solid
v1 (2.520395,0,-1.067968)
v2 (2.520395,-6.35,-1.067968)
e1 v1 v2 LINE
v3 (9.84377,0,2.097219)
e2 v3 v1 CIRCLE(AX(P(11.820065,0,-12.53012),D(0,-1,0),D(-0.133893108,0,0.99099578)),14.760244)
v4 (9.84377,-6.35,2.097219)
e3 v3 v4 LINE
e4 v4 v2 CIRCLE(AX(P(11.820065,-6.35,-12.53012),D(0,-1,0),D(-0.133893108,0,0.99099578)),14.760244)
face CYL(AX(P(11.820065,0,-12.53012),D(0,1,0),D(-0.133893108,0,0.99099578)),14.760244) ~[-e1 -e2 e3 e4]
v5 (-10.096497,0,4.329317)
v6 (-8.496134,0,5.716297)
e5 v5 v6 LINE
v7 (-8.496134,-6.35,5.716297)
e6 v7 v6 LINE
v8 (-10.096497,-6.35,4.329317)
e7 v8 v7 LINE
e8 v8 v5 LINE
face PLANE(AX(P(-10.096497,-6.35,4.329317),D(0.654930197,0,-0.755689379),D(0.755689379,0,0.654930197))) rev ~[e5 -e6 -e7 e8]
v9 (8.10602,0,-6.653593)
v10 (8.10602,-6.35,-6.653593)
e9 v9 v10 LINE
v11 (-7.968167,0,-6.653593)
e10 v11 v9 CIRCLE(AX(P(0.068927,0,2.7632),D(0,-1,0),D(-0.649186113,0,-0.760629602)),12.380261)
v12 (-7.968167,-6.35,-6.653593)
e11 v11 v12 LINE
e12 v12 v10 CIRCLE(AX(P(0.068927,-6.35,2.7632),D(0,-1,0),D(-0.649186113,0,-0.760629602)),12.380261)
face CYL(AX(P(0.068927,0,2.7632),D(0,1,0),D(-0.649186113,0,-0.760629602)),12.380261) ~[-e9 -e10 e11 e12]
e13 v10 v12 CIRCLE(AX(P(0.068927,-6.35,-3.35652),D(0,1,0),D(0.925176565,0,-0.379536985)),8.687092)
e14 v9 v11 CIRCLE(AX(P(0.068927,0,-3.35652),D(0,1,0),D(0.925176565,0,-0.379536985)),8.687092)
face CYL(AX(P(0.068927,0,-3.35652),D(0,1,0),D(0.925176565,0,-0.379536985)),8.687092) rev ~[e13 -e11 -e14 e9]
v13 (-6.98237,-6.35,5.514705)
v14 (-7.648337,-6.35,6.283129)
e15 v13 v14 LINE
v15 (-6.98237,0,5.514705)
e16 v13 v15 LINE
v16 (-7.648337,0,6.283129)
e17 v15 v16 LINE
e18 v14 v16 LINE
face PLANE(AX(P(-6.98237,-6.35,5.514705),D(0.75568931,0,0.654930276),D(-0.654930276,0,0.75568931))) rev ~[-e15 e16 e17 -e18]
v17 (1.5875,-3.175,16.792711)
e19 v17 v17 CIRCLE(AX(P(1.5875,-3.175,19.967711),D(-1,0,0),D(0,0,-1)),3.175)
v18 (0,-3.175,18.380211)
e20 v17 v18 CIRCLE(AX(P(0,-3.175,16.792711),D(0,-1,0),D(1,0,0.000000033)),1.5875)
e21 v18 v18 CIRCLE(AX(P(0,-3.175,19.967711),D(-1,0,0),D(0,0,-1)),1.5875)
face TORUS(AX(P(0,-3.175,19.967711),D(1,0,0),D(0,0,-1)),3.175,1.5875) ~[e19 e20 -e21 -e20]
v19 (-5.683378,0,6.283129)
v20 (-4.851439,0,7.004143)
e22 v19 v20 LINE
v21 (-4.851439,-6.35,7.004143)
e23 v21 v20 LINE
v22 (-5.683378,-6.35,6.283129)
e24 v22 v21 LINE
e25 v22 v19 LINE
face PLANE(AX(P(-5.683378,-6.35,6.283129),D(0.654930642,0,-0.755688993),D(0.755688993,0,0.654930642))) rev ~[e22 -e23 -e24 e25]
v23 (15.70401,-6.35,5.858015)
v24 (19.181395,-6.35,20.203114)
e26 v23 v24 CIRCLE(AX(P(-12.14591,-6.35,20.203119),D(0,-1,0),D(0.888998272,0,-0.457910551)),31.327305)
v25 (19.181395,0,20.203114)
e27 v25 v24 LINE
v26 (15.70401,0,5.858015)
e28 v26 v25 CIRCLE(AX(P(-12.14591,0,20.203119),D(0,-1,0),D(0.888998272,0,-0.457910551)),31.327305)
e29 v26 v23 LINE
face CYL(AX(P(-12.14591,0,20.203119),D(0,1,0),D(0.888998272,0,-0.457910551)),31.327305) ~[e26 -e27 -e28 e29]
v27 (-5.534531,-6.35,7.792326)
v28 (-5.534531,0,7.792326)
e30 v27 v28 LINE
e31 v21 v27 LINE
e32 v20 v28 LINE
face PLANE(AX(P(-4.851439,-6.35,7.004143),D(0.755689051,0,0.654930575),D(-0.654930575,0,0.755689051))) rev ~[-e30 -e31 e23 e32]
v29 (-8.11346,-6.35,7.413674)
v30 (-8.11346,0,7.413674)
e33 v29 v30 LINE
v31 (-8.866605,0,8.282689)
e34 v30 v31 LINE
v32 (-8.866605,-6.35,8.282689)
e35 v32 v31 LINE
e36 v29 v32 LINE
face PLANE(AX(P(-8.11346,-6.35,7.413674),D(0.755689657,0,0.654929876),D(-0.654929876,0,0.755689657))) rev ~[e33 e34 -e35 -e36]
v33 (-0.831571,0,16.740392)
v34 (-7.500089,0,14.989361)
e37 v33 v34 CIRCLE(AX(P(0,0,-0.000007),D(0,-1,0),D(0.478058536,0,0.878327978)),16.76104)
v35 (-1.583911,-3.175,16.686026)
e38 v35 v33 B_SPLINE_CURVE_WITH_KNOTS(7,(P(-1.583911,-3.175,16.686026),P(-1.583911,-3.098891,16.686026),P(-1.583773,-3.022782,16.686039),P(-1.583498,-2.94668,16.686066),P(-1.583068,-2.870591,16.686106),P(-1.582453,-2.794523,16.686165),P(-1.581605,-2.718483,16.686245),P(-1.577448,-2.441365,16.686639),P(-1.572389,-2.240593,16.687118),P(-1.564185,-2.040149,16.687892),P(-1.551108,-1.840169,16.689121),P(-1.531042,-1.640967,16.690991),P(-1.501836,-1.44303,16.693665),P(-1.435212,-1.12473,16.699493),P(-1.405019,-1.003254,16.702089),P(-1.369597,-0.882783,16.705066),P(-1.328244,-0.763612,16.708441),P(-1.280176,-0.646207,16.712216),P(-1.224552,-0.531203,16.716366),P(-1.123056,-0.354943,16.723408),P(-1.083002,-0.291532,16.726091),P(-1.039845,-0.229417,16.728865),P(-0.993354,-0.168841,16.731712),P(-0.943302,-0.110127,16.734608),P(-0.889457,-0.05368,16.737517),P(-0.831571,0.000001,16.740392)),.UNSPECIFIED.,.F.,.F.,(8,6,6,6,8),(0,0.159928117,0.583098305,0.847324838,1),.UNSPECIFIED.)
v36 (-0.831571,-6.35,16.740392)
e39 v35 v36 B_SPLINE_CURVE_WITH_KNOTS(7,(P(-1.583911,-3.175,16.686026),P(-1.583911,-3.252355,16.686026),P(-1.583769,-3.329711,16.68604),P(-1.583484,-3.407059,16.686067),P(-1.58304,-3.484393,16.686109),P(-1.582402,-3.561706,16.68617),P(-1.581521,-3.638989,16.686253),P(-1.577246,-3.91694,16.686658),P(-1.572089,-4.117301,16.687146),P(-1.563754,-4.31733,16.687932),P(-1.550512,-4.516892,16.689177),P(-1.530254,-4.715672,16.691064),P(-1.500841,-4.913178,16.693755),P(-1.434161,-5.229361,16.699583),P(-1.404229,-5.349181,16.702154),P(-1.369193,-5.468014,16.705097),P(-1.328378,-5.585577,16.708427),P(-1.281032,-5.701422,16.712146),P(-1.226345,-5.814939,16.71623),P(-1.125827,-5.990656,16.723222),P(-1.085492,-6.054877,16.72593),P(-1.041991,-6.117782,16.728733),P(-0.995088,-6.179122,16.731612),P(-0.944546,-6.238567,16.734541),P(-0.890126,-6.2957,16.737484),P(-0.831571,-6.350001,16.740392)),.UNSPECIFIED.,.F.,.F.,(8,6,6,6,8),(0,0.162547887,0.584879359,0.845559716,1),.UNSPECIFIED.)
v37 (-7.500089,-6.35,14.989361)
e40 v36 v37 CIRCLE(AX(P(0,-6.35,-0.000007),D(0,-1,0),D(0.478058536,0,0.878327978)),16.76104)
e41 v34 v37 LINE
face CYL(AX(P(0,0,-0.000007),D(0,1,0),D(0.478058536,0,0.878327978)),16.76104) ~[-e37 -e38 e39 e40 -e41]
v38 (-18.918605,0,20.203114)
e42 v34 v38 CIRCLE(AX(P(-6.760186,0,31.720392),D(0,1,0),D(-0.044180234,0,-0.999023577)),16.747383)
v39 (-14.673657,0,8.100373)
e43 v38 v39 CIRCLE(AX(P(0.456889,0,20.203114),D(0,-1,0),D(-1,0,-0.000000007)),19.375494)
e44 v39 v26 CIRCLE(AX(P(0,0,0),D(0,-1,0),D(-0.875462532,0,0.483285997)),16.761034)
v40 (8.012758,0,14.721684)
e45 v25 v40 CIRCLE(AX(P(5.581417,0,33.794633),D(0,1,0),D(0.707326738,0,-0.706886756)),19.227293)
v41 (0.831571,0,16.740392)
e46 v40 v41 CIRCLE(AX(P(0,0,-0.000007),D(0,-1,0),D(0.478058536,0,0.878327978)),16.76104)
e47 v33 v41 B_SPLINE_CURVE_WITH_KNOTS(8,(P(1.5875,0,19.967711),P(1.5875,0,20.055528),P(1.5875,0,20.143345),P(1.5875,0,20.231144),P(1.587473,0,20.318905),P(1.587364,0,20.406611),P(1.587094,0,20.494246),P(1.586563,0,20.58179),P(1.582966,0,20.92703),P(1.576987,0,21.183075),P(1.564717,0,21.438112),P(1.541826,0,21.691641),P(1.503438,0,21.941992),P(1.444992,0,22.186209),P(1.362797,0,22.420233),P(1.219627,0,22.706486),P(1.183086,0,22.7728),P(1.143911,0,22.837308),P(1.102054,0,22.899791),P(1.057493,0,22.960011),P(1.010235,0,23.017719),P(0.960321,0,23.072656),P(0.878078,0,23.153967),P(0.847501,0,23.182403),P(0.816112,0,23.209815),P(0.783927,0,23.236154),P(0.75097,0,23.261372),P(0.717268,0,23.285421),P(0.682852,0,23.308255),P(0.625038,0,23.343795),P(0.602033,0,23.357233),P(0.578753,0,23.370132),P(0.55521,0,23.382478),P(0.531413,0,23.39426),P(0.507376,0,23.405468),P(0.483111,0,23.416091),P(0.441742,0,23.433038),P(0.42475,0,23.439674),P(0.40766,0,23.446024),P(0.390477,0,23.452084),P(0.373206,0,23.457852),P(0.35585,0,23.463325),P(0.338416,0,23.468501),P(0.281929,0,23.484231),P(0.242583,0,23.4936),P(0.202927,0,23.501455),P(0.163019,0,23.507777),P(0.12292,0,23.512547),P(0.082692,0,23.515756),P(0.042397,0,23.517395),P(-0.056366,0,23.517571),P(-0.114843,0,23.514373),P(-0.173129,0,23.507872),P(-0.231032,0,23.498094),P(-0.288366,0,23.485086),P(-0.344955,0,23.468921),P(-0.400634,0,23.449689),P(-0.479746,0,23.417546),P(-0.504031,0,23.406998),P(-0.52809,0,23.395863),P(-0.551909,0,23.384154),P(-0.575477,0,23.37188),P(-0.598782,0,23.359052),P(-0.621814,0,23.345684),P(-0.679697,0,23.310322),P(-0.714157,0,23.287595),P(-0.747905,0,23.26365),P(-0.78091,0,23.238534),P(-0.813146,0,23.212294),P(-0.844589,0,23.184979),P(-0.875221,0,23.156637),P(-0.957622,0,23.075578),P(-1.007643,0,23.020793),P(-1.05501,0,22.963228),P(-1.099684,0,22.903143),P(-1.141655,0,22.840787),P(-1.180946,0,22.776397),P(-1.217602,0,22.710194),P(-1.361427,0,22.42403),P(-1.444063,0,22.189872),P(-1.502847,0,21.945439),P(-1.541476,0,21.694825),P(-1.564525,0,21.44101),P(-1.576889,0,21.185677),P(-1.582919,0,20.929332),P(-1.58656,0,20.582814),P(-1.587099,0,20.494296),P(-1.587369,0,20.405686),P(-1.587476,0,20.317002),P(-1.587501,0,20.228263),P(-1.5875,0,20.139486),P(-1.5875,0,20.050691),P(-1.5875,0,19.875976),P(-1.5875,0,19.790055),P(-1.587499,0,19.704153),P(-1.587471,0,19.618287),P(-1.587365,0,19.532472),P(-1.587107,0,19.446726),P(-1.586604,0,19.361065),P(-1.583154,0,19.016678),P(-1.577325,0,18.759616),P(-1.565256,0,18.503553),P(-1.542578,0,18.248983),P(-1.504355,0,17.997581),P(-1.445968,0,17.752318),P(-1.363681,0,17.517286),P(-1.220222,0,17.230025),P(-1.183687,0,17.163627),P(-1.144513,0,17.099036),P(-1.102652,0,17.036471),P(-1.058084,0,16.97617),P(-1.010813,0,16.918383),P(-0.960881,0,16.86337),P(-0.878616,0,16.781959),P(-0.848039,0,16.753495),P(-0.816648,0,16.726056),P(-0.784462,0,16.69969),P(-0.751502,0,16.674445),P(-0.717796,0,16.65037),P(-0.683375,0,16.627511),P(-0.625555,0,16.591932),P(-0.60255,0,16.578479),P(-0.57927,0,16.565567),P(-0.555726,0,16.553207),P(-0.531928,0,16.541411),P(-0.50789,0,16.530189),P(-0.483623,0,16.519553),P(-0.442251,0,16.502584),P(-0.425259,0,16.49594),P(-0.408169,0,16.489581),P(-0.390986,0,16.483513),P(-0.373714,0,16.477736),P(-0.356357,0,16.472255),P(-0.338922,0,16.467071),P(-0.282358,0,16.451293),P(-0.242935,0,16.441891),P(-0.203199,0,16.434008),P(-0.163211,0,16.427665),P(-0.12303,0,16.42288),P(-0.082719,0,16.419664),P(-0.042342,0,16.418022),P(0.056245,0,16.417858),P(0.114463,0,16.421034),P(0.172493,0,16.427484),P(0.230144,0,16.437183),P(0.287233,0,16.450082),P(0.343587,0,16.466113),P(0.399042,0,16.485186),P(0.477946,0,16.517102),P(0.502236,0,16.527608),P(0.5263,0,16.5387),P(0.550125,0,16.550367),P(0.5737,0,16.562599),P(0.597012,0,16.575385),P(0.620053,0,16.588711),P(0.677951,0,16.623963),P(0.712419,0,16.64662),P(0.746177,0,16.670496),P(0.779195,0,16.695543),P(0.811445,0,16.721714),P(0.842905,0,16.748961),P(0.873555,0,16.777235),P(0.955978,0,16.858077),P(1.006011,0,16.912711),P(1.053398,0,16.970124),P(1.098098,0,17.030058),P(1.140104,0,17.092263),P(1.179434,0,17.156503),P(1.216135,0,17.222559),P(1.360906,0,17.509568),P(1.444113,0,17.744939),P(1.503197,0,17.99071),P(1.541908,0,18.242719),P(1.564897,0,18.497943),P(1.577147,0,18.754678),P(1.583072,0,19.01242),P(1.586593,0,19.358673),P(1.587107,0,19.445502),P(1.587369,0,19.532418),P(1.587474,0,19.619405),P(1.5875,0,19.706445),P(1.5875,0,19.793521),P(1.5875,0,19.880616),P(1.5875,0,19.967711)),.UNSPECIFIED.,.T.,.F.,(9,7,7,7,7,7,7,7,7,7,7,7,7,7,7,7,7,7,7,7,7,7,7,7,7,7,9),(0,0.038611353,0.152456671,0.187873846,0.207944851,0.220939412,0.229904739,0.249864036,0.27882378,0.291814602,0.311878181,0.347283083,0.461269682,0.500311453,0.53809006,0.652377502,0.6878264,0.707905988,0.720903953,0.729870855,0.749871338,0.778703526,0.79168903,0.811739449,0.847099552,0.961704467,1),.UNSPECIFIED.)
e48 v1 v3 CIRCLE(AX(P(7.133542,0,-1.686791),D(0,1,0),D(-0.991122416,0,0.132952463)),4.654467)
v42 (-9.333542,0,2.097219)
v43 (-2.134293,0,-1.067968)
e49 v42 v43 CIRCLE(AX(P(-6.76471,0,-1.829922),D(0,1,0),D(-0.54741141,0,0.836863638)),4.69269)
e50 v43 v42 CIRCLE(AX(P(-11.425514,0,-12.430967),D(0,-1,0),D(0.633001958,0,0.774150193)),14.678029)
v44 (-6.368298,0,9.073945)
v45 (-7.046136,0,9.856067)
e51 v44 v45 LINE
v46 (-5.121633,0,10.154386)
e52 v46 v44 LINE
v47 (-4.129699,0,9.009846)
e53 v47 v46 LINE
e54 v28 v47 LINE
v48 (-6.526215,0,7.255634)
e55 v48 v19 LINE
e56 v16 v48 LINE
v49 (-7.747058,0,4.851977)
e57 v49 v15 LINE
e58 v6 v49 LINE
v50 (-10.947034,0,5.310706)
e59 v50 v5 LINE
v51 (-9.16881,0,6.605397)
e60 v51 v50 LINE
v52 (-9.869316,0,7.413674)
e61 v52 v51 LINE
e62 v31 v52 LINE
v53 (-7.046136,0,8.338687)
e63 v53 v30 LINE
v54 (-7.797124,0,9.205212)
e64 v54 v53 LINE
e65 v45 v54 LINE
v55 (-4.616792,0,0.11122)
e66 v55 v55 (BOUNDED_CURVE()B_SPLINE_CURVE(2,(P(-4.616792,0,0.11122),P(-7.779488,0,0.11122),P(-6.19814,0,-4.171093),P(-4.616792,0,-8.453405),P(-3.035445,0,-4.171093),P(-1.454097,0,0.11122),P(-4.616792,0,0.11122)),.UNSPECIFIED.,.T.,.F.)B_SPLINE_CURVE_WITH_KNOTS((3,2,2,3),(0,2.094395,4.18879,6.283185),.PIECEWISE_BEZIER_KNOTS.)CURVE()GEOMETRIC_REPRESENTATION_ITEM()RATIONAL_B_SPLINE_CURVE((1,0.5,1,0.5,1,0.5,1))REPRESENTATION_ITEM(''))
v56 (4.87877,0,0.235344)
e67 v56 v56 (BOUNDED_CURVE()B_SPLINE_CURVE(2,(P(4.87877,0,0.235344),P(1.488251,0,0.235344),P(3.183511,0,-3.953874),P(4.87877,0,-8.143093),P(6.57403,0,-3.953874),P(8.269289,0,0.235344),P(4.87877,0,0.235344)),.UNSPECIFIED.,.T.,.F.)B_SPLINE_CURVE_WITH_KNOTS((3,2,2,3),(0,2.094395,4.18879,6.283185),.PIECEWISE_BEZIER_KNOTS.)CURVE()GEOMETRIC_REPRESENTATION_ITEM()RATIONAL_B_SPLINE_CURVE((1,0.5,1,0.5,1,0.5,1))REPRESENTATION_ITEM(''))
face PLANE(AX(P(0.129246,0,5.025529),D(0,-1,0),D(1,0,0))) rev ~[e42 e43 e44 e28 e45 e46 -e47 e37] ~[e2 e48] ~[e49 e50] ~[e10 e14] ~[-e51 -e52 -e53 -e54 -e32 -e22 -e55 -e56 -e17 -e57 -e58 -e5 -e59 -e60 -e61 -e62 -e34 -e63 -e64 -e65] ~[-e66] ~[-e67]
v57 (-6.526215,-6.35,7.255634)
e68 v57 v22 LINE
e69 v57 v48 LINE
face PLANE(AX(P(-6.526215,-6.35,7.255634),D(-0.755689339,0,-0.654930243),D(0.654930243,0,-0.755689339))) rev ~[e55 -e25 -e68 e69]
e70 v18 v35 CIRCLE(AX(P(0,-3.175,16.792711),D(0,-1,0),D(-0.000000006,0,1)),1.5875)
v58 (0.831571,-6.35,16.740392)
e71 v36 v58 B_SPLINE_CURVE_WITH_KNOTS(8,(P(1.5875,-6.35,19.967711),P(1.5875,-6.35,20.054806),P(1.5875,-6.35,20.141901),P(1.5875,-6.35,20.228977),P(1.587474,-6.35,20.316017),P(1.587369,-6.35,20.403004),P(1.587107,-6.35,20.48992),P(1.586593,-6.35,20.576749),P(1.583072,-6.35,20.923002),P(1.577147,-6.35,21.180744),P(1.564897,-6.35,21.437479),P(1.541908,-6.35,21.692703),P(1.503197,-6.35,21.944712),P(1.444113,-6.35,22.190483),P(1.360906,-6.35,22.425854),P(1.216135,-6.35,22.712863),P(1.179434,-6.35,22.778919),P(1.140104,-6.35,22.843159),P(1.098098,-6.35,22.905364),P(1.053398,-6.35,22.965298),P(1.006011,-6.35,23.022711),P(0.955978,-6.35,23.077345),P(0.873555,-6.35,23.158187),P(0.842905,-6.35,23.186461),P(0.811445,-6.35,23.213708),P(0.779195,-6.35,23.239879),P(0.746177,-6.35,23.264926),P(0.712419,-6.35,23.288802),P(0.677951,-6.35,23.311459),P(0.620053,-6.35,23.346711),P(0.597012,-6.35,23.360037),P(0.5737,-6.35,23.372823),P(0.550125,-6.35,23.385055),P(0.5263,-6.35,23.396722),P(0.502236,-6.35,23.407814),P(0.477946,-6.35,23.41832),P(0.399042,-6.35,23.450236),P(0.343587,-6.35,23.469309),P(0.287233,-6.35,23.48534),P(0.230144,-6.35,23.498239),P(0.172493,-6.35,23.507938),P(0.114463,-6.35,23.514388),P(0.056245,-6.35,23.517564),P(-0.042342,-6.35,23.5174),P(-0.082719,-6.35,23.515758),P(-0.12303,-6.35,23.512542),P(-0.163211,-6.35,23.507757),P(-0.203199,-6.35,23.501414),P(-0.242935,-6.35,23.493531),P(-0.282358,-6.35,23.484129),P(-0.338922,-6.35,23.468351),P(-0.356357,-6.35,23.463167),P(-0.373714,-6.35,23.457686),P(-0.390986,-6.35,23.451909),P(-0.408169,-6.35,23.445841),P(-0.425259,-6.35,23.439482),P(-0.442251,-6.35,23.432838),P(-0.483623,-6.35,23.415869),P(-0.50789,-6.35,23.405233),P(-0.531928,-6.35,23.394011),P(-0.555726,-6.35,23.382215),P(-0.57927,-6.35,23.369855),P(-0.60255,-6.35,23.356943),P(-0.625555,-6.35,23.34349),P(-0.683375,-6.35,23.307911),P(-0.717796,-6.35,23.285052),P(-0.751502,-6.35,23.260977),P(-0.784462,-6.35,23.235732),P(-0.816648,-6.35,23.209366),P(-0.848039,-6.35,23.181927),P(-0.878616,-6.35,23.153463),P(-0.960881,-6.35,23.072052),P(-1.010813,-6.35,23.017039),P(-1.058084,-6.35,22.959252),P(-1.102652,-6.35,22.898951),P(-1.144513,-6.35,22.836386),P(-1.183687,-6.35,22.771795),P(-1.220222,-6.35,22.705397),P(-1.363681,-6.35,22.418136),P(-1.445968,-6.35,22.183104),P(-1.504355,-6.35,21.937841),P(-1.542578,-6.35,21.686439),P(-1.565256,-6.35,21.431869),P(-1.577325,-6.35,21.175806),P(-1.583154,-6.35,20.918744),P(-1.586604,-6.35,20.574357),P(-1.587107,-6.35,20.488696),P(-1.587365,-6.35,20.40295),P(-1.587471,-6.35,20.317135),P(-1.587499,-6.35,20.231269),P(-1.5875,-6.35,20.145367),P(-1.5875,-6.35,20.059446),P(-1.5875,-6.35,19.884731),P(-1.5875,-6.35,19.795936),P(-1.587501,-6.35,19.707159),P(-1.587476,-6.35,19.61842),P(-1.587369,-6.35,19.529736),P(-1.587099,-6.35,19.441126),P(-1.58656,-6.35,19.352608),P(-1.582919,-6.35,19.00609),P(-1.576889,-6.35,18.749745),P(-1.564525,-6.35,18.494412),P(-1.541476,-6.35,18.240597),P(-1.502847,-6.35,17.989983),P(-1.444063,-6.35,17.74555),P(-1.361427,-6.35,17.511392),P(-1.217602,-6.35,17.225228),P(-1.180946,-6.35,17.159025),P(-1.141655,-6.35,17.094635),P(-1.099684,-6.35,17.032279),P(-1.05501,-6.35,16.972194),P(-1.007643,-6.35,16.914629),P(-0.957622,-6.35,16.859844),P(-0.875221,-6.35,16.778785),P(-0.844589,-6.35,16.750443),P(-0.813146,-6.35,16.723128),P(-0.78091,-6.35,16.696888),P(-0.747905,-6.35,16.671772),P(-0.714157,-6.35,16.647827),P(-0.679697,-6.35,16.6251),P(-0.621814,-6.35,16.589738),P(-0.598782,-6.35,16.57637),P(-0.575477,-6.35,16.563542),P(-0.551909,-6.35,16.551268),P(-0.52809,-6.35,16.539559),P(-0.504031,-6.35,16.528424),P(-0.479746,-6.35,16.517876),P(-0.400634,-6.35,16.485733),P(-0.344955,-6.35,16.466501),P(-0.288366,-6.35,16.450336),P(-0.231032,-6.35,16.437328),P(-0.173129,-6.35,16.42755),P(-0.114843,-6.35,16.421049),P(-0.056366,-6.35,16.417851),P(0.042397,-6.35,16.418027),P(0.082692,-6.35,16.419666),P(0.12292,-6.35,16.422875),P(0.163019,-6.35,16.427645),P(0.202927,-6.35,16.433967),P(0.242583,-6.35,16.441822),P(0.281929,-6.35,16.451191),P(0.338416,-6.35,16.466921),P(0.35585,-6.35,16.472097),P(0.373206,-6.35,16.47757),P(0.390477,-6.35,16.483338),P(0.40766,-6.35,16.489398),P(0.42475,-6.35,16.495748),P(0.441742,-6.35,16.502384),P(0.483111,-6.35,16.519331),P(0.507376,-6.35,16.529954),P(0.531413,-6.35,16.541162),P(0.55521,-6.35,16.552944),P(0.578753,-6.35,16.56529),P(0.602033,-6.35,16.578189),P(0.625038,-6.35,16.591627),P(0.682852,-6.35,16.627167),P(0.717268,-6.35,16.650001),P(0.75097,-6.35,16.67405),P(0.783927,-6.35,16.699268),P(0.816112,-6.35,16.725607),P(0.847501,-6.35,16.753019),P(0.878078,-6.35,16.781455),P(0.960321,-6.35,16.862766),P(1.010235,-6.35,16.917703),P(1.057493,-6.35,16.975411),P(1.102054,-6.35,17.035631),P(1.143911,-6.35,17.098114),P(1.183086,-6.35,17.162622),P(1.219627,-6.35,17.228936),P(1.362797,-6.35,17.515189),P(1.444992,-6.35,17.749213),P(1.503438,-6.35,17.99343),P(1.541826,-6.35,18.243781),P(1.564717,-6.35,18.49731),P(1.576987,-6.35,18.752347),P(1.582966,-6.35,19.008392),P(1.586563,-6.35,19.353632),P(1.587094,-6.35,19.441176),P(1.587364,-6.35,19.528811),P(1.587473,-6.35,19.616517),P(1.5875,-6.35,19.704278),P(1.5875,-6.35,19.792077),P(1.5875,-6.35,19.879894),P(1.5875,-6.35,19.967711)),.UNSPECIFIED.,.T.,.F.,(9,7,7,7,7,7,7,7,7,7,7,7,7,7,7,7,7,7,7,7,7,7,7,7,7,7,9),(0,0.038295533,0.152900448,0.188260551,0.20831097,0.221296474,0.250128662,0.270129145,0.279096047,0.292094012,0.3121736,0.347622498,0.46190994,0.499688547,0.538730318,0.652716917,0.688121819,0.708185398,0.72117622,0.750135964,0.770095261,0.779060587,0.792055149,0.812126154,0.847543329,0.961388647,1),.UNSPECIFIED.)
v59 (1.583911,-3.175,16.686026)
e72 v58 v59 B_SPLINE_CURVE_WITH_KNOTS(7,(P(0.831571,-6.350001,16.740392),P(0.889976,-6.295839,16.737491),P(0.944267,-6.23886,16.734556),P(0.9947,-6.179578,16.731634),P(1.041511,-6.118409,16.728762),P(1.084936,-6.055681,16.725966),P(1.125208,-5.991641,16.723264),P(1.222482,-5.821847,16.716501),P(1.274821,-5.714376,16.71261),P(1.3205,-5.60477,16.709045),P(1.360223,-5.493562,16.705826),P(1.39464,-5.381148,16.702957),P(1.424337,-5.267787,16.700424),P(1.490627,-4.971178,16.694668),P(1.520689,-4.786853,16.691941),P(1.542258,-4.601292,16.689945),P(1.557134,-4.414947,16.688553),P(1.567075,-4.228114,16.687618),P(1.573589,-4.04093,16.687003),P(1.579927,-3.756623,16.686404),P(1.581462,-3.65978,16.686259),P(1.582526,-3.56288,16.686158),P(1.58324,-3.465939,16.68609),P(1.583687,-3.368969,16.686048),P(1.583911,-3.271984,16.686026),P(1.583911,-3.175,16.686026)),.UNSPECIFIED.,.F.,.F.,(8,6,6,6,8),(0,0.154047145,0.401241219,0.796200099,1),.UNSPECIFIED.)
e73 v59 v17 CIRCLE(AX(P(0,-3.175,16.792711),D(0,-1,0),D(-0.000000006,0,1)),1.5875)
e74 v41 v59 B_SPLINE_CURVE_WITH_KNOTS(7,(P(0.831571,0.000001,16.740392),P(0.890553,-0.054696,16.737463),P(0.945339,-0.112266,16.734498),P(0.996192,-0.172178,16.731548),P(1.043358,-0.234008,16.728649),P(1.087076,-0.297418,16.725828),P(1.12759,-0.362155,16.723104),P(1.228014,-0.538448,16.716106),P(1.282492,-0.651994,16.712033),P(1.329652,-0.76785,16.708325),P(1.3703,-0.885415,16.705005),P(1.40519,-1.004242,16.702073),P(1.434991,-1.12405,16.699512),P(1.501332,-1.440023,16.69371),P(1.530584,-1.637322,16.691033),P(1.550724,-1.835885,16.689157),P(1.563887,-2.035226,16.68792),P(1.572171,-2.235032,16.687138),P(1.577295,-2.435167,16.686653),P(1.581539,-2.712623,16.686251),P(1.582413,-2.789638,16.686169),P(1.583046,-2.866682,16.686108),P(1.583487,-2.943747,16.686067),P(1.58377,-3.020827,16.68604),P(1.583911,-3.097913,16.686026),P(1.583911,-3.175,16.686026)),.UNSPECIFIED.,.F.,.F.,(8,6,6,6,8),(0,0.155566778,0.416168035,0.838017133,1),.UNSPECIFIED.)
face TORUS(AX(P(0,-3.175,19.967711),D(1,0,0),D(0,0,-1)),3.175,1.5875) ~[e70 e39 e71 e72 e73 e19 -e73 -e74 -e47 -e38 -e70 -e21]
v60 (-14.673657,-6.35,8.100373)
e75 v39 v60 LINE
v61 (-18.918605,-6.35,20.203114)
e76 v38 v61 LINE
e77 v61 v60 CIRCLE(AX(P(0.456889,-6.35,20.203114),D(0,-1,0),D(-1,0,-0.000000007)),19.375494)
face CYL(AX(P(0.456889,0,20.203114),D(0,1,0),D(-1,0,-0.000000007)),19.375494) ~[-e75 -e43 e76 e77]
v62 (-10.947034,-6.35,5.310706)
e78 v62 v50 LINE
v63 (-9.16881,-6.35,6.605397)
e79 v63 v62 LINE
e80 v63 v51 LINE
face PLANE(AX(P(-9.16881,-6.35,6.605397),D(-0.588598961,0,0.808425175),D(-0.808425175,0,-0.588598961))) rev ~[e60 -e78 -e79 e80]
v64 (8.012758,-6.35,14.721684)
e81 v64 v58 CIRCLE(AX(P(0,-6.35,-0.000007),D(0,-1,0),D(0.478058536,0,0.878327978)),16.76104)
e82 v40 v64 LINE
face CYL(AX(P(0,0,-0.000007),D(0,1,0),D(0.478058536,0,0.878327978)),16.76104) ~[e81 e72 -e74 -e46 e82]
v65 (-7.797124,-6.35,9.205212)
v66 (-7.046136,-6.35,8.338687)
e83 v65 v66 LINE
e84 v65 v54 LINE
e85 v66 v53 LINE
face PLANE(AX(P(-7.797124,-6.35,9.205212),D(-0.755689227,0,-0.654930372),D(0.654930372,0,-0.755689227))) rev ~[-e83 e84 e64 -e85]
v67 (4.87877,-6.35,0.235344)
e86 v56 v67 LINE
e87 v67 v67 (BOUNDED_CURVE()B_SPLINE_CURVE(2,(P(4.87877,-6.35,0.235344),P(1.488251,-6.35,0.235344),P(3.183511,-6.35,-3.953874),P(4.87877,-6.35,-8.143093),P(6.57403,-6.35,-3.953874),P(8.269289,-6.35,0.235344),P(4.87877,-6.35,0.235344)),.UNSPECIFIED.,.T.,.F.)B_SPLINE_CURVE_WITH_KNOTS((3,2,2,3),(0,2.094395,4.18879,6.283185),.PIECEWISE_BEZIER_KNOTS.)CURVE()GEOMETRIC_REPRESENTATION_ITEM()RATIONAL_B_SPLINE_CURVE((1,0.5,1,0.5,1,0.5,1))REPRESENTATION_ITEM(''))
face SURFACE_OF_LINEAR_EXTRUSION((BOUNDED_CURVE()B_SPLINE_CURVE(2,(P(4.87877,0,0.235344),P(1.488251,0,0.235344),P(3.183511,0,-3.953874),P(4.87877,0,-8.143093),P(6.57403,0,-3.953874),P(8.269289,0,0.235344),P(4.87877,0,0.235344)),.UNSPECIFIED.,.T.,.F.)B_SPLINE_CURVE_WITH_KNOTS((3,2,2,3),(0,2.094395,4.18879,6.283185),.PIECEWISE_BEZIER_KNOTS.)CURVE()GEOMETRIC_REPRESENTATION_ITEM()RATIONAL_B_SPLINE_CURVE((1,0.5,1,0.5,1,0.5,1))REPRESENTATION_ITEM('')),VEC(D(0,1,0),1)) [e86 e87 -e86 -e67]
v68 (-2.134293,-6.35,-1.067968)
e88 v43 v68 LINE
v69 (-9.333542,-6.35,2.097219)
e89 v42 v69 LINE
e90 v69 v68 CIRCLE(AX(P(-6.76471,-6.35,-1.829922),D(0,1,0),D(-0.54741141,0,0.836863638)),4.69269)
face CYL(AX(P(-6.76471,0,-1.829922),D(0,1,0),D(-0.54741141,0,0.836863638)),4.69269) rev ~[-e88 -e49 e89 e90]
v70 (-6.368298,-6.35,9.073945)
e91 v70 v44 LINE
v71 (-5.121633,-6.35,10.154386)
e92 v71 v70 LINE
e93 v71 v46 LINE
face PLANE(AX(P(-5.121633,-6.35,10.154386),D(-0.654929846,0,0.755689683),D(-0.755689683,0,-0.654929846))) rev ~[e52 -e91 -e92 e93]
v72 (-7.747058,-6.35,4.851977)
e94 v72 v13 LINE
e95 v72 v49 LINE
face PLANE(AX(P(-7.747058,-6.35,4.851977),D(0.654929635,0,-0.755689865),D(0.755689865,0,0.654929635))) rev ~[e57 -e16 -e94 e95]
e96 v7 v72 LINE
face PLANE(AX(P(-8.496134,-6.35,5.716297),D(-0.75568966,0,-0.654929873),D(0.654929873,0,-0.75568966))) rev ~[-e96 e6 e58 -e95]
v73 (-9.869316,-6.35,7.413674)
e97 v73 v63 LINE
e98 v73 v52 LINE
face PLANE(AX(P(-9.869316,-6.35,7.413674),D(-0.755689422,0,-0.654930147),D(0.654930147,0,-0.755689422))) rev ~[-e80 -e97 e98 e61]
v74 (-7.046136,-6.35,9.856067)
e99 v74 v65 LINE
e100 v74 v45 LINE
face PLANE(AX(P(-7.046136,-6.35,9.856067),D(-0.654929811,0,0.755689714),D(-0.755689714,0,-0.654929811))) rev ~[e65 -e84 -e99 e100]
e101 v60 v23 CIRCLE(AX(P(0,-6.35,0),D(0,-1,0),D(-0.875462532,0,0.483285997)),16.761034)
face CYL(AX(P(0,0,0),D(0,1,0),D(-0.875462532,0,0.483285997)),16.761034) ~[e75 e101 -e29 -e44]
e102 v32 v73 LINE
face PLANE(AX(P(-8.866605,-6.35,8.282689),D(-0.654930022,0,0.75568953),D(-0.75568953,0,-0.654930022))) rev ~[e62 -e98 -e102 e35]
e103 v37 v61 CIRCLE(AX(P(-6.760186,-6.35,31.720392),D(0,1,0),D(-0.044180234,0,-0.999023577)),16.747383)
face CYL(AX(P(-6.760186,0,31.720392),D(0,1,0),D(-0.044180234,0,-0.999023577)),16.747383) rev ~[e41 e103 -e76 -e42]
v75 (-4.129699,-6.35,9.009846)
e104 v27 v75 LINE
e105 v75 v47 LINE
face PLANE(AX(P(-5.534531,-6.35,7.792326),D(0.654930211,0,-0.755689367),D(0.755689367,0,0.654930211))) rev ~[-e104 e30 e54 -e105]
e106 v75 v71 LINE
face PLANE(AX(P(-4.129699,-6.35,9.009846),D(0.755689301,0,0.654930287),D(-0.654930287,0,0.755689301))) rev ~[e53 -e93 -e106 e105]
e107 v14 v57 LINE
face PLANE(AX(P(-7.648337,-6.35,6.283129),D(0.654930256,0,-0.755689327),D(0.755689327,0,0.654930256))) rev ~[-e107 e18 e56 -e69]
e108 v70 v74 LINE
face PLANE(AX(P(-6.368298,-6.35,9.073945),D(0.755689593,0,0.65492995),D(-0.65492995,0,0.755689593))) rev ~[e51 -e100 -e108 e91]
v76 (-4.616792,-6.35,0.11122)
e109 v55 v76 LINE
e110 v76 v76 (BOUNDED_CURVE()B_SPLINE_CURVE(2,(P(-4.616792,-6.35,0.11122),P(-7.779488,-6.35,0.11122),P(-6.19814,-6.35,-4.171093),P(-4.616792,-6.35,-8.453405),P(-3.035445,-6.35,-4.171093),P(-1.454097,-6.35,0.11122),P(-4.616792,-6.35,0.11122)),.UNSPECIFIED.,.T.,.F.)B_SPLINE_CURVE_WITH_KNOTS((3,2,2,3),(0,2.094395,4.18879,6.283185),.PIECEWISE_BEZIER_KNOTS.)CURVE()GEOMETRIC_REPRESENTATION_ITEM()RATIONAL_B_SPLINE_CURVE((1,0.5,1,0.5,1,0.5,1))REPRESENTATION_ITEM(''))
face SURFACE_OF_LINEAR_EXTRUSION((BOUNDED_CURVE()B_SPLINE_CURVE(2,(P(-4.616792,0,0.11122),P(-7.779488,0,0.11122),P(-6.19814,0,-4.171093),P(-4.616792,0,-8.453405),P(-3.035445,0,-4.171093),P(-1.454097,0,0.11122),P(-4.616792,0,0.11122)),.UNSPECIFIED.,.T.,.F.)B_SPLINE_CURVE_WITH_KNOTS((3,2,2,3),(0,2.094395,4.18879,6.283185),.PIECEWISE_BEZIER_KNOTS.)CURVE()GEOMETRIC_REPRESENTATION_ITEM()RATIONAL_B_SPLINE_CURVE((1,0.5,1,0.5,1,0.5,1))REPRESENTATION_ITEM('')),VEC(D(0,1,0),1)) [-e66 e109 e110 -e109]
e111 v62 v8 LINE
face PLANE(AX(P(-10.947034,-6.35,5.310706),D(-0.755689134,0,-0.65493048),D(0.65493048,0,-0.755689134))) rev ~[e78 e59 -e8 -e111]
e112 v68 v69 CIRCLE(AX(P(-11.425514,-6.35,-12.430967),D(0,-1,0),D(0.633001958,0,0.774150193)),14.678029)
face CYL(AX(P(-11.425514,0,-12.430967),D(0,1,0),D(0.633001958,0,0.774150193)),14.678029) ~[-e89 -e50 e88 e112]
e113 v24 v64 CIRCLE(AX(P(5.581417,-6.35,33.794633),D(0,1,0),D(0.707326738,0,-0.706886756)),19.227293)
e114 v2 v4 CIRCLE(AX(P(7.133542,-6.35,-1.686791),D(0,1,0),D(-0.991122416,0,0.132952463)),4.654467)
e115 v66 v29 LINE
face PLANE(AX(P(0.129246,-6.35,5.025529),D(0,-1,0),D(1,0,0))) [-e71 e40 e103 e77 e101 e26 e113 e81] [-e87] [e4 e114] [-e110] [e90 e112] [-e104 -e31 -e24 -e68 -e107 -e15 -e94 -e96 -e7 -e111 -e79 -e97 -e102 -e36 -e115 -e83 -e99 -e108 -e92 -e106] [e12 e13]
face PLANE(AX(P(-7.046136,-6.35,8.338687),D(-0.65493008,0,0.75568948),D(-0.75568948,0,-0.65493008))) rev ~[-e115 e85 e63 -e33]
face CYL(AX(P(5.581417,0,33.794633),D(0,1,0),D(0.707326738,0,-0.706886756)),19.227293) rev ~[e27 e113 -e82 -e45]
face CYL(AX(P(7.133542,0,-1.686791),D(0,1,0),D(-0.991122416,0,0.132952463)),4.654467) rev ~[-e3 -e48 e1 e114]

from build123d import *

# Parameters (mm, degrees)
F1_DEPTH = 6.35
F3_DEPTH = 6.35


with BuildPart() as f1:
    # F0 (on Front) → F1 (new body)
    with BuildSketch(Plane.XZ):
        with BuildLine():
            ThreePointArc((19.181395, 20.203114), (14.052681, 16.534086), (8.012758, 14.721684))
            ThreePointArc((8.012758, 14.721684), (0.289171, 16.758539), (-7.500089, 14.989361))
            ThreePointArc((-7.500089, 14.989361), (-13.716297, 16.485978), (-18.918605, 20.203114))
            ThreePointArc((-18.918605, 20.203114), (-17.826595, 13.790316), (-14.673657, 8.100373))
            ThreePointArc((-14.673657, 8.100373), (-1.233876, -16.715556), (15.70401, 5.858015))
            ThreePointArc((15.70401, 5.858015), (18.299639, 12.822835), (19.181395, 20.203114))
        make_face()
        with BuildLine():
            ThreePointArc((8.10602, -6.653593), (0.068926, -12.043612), (-7.968167, -6.653593))
            ThreePointArc((-7.968167, -6.653593), (0.068926, -9.617061), (8.10602, -6.653593))
        make_face(mode=Mode.SUBTRACT)
        with BuildLine():
            ThreePointArc((-9.333542, 2.097219), (-4.876024, 2.465913), (-2.134293, -1.067968))
            ThreePointArc((-2.134293, -1.067968), (-5.517987, 1.005761), (-9.333542, 2.097219))
        make_face(mode=Mode.SUBTRACT)
        with BuildLine():
            add(Edge.make_bspline(
                [(-4.616792, 0.11122), (-7.779488, 0.11122), (-6.19814, -4.171093), (-4.616792, -8.453405), (-3.035445, -4.171093), (-1.454097, 0.11122), (-4.616792, 0.11122)],
                knots=[0, 0, 0, 2.094395, 2.094395, 4.18879, 4.18879, 6.283185, 6.283185, 6.283185], degree=2, weights=[1, 0.5, 1, 0.5, 1, 0.5, 1]))
        make_face(mode=Mode.SUBTRACT)
        with BuildLine():
            add(Edge.make_bspline(
                [(4.87877, 0.235344), (1.488251, 0.235344), (3.183511, -3.953874), (4.87877, -8.143093), (6.57403, -3.953874), (8.269289, 0.235344), (4.87877, 0.235344)],
                knots=[0, 0, 0, 2.094395, 2.094395, 4.18879, 4.18879, 6.283185, 6.283185, 6.283185], degree=2, weights=[1, 0.5, 1, 0.5, 1, 0.5, 1]))
        make_face(mode=Mode.SUBTRACT)
        with BuildLine():
            ThreePointArc((2.520395, -1.067968), (5.286956, 2.585701), (9.84377, 2.097219))
            ThreePointArc((9.84377, 2.097219), (5.964175, 1.018804), (2.520395, -1.067968))
        make_face(mode=Mode.SUBTRACT)
    extrude(amount=F1_DEPTH)

    # F2 (on face) → F3 (cut)
    with BuildSketch(Plane.XZ.offset(6.35)):
        Polygon((-9.16881, 6.605397), (-10.947034, 5.310706), (-10.096497, 4.329317), (-8.496134, 5.716297), (-7.747058, 4.851977), (-6.98237, 5.514705), (-7.648337, 6.283129), (-6.526215, 7.255634), (-5.683378, 6.283129), (-4.851439, 7.004143), (-5.534531, 7.792326), (-4.129699, 9.009846), (-5.121633, 10.154386), (-6.368298, 9.073945), (-7.046136, 9.856067), (-7.797124, 9.205212), (-7.046136, 8.338687), (-8.11346, 7.413674), (-8.866605, 8.282689), (-9.869316, 7.413674), align=None)
    extrude(amount=-F3_DEPTH, mode=Mode.SUBTRACT)

    # F5 (on offset) → F6 (revolve)
    with BuildSketch(Plane.XZ.offset(3.175)):
        with BuildLine():
            ThreePointArc((0, 18.380211), (-1.122532, 15.670179), (1.5875, 16.792711))
            ThreePointArc((1.5875, 16.792711), (1.122532, 17.915243), (0, 18.380211))
        make_face()
    revolve(axis=Axis((-7.444045, -3.175, 19.967711), (-1, 0, 0)))


solid = f1.part
